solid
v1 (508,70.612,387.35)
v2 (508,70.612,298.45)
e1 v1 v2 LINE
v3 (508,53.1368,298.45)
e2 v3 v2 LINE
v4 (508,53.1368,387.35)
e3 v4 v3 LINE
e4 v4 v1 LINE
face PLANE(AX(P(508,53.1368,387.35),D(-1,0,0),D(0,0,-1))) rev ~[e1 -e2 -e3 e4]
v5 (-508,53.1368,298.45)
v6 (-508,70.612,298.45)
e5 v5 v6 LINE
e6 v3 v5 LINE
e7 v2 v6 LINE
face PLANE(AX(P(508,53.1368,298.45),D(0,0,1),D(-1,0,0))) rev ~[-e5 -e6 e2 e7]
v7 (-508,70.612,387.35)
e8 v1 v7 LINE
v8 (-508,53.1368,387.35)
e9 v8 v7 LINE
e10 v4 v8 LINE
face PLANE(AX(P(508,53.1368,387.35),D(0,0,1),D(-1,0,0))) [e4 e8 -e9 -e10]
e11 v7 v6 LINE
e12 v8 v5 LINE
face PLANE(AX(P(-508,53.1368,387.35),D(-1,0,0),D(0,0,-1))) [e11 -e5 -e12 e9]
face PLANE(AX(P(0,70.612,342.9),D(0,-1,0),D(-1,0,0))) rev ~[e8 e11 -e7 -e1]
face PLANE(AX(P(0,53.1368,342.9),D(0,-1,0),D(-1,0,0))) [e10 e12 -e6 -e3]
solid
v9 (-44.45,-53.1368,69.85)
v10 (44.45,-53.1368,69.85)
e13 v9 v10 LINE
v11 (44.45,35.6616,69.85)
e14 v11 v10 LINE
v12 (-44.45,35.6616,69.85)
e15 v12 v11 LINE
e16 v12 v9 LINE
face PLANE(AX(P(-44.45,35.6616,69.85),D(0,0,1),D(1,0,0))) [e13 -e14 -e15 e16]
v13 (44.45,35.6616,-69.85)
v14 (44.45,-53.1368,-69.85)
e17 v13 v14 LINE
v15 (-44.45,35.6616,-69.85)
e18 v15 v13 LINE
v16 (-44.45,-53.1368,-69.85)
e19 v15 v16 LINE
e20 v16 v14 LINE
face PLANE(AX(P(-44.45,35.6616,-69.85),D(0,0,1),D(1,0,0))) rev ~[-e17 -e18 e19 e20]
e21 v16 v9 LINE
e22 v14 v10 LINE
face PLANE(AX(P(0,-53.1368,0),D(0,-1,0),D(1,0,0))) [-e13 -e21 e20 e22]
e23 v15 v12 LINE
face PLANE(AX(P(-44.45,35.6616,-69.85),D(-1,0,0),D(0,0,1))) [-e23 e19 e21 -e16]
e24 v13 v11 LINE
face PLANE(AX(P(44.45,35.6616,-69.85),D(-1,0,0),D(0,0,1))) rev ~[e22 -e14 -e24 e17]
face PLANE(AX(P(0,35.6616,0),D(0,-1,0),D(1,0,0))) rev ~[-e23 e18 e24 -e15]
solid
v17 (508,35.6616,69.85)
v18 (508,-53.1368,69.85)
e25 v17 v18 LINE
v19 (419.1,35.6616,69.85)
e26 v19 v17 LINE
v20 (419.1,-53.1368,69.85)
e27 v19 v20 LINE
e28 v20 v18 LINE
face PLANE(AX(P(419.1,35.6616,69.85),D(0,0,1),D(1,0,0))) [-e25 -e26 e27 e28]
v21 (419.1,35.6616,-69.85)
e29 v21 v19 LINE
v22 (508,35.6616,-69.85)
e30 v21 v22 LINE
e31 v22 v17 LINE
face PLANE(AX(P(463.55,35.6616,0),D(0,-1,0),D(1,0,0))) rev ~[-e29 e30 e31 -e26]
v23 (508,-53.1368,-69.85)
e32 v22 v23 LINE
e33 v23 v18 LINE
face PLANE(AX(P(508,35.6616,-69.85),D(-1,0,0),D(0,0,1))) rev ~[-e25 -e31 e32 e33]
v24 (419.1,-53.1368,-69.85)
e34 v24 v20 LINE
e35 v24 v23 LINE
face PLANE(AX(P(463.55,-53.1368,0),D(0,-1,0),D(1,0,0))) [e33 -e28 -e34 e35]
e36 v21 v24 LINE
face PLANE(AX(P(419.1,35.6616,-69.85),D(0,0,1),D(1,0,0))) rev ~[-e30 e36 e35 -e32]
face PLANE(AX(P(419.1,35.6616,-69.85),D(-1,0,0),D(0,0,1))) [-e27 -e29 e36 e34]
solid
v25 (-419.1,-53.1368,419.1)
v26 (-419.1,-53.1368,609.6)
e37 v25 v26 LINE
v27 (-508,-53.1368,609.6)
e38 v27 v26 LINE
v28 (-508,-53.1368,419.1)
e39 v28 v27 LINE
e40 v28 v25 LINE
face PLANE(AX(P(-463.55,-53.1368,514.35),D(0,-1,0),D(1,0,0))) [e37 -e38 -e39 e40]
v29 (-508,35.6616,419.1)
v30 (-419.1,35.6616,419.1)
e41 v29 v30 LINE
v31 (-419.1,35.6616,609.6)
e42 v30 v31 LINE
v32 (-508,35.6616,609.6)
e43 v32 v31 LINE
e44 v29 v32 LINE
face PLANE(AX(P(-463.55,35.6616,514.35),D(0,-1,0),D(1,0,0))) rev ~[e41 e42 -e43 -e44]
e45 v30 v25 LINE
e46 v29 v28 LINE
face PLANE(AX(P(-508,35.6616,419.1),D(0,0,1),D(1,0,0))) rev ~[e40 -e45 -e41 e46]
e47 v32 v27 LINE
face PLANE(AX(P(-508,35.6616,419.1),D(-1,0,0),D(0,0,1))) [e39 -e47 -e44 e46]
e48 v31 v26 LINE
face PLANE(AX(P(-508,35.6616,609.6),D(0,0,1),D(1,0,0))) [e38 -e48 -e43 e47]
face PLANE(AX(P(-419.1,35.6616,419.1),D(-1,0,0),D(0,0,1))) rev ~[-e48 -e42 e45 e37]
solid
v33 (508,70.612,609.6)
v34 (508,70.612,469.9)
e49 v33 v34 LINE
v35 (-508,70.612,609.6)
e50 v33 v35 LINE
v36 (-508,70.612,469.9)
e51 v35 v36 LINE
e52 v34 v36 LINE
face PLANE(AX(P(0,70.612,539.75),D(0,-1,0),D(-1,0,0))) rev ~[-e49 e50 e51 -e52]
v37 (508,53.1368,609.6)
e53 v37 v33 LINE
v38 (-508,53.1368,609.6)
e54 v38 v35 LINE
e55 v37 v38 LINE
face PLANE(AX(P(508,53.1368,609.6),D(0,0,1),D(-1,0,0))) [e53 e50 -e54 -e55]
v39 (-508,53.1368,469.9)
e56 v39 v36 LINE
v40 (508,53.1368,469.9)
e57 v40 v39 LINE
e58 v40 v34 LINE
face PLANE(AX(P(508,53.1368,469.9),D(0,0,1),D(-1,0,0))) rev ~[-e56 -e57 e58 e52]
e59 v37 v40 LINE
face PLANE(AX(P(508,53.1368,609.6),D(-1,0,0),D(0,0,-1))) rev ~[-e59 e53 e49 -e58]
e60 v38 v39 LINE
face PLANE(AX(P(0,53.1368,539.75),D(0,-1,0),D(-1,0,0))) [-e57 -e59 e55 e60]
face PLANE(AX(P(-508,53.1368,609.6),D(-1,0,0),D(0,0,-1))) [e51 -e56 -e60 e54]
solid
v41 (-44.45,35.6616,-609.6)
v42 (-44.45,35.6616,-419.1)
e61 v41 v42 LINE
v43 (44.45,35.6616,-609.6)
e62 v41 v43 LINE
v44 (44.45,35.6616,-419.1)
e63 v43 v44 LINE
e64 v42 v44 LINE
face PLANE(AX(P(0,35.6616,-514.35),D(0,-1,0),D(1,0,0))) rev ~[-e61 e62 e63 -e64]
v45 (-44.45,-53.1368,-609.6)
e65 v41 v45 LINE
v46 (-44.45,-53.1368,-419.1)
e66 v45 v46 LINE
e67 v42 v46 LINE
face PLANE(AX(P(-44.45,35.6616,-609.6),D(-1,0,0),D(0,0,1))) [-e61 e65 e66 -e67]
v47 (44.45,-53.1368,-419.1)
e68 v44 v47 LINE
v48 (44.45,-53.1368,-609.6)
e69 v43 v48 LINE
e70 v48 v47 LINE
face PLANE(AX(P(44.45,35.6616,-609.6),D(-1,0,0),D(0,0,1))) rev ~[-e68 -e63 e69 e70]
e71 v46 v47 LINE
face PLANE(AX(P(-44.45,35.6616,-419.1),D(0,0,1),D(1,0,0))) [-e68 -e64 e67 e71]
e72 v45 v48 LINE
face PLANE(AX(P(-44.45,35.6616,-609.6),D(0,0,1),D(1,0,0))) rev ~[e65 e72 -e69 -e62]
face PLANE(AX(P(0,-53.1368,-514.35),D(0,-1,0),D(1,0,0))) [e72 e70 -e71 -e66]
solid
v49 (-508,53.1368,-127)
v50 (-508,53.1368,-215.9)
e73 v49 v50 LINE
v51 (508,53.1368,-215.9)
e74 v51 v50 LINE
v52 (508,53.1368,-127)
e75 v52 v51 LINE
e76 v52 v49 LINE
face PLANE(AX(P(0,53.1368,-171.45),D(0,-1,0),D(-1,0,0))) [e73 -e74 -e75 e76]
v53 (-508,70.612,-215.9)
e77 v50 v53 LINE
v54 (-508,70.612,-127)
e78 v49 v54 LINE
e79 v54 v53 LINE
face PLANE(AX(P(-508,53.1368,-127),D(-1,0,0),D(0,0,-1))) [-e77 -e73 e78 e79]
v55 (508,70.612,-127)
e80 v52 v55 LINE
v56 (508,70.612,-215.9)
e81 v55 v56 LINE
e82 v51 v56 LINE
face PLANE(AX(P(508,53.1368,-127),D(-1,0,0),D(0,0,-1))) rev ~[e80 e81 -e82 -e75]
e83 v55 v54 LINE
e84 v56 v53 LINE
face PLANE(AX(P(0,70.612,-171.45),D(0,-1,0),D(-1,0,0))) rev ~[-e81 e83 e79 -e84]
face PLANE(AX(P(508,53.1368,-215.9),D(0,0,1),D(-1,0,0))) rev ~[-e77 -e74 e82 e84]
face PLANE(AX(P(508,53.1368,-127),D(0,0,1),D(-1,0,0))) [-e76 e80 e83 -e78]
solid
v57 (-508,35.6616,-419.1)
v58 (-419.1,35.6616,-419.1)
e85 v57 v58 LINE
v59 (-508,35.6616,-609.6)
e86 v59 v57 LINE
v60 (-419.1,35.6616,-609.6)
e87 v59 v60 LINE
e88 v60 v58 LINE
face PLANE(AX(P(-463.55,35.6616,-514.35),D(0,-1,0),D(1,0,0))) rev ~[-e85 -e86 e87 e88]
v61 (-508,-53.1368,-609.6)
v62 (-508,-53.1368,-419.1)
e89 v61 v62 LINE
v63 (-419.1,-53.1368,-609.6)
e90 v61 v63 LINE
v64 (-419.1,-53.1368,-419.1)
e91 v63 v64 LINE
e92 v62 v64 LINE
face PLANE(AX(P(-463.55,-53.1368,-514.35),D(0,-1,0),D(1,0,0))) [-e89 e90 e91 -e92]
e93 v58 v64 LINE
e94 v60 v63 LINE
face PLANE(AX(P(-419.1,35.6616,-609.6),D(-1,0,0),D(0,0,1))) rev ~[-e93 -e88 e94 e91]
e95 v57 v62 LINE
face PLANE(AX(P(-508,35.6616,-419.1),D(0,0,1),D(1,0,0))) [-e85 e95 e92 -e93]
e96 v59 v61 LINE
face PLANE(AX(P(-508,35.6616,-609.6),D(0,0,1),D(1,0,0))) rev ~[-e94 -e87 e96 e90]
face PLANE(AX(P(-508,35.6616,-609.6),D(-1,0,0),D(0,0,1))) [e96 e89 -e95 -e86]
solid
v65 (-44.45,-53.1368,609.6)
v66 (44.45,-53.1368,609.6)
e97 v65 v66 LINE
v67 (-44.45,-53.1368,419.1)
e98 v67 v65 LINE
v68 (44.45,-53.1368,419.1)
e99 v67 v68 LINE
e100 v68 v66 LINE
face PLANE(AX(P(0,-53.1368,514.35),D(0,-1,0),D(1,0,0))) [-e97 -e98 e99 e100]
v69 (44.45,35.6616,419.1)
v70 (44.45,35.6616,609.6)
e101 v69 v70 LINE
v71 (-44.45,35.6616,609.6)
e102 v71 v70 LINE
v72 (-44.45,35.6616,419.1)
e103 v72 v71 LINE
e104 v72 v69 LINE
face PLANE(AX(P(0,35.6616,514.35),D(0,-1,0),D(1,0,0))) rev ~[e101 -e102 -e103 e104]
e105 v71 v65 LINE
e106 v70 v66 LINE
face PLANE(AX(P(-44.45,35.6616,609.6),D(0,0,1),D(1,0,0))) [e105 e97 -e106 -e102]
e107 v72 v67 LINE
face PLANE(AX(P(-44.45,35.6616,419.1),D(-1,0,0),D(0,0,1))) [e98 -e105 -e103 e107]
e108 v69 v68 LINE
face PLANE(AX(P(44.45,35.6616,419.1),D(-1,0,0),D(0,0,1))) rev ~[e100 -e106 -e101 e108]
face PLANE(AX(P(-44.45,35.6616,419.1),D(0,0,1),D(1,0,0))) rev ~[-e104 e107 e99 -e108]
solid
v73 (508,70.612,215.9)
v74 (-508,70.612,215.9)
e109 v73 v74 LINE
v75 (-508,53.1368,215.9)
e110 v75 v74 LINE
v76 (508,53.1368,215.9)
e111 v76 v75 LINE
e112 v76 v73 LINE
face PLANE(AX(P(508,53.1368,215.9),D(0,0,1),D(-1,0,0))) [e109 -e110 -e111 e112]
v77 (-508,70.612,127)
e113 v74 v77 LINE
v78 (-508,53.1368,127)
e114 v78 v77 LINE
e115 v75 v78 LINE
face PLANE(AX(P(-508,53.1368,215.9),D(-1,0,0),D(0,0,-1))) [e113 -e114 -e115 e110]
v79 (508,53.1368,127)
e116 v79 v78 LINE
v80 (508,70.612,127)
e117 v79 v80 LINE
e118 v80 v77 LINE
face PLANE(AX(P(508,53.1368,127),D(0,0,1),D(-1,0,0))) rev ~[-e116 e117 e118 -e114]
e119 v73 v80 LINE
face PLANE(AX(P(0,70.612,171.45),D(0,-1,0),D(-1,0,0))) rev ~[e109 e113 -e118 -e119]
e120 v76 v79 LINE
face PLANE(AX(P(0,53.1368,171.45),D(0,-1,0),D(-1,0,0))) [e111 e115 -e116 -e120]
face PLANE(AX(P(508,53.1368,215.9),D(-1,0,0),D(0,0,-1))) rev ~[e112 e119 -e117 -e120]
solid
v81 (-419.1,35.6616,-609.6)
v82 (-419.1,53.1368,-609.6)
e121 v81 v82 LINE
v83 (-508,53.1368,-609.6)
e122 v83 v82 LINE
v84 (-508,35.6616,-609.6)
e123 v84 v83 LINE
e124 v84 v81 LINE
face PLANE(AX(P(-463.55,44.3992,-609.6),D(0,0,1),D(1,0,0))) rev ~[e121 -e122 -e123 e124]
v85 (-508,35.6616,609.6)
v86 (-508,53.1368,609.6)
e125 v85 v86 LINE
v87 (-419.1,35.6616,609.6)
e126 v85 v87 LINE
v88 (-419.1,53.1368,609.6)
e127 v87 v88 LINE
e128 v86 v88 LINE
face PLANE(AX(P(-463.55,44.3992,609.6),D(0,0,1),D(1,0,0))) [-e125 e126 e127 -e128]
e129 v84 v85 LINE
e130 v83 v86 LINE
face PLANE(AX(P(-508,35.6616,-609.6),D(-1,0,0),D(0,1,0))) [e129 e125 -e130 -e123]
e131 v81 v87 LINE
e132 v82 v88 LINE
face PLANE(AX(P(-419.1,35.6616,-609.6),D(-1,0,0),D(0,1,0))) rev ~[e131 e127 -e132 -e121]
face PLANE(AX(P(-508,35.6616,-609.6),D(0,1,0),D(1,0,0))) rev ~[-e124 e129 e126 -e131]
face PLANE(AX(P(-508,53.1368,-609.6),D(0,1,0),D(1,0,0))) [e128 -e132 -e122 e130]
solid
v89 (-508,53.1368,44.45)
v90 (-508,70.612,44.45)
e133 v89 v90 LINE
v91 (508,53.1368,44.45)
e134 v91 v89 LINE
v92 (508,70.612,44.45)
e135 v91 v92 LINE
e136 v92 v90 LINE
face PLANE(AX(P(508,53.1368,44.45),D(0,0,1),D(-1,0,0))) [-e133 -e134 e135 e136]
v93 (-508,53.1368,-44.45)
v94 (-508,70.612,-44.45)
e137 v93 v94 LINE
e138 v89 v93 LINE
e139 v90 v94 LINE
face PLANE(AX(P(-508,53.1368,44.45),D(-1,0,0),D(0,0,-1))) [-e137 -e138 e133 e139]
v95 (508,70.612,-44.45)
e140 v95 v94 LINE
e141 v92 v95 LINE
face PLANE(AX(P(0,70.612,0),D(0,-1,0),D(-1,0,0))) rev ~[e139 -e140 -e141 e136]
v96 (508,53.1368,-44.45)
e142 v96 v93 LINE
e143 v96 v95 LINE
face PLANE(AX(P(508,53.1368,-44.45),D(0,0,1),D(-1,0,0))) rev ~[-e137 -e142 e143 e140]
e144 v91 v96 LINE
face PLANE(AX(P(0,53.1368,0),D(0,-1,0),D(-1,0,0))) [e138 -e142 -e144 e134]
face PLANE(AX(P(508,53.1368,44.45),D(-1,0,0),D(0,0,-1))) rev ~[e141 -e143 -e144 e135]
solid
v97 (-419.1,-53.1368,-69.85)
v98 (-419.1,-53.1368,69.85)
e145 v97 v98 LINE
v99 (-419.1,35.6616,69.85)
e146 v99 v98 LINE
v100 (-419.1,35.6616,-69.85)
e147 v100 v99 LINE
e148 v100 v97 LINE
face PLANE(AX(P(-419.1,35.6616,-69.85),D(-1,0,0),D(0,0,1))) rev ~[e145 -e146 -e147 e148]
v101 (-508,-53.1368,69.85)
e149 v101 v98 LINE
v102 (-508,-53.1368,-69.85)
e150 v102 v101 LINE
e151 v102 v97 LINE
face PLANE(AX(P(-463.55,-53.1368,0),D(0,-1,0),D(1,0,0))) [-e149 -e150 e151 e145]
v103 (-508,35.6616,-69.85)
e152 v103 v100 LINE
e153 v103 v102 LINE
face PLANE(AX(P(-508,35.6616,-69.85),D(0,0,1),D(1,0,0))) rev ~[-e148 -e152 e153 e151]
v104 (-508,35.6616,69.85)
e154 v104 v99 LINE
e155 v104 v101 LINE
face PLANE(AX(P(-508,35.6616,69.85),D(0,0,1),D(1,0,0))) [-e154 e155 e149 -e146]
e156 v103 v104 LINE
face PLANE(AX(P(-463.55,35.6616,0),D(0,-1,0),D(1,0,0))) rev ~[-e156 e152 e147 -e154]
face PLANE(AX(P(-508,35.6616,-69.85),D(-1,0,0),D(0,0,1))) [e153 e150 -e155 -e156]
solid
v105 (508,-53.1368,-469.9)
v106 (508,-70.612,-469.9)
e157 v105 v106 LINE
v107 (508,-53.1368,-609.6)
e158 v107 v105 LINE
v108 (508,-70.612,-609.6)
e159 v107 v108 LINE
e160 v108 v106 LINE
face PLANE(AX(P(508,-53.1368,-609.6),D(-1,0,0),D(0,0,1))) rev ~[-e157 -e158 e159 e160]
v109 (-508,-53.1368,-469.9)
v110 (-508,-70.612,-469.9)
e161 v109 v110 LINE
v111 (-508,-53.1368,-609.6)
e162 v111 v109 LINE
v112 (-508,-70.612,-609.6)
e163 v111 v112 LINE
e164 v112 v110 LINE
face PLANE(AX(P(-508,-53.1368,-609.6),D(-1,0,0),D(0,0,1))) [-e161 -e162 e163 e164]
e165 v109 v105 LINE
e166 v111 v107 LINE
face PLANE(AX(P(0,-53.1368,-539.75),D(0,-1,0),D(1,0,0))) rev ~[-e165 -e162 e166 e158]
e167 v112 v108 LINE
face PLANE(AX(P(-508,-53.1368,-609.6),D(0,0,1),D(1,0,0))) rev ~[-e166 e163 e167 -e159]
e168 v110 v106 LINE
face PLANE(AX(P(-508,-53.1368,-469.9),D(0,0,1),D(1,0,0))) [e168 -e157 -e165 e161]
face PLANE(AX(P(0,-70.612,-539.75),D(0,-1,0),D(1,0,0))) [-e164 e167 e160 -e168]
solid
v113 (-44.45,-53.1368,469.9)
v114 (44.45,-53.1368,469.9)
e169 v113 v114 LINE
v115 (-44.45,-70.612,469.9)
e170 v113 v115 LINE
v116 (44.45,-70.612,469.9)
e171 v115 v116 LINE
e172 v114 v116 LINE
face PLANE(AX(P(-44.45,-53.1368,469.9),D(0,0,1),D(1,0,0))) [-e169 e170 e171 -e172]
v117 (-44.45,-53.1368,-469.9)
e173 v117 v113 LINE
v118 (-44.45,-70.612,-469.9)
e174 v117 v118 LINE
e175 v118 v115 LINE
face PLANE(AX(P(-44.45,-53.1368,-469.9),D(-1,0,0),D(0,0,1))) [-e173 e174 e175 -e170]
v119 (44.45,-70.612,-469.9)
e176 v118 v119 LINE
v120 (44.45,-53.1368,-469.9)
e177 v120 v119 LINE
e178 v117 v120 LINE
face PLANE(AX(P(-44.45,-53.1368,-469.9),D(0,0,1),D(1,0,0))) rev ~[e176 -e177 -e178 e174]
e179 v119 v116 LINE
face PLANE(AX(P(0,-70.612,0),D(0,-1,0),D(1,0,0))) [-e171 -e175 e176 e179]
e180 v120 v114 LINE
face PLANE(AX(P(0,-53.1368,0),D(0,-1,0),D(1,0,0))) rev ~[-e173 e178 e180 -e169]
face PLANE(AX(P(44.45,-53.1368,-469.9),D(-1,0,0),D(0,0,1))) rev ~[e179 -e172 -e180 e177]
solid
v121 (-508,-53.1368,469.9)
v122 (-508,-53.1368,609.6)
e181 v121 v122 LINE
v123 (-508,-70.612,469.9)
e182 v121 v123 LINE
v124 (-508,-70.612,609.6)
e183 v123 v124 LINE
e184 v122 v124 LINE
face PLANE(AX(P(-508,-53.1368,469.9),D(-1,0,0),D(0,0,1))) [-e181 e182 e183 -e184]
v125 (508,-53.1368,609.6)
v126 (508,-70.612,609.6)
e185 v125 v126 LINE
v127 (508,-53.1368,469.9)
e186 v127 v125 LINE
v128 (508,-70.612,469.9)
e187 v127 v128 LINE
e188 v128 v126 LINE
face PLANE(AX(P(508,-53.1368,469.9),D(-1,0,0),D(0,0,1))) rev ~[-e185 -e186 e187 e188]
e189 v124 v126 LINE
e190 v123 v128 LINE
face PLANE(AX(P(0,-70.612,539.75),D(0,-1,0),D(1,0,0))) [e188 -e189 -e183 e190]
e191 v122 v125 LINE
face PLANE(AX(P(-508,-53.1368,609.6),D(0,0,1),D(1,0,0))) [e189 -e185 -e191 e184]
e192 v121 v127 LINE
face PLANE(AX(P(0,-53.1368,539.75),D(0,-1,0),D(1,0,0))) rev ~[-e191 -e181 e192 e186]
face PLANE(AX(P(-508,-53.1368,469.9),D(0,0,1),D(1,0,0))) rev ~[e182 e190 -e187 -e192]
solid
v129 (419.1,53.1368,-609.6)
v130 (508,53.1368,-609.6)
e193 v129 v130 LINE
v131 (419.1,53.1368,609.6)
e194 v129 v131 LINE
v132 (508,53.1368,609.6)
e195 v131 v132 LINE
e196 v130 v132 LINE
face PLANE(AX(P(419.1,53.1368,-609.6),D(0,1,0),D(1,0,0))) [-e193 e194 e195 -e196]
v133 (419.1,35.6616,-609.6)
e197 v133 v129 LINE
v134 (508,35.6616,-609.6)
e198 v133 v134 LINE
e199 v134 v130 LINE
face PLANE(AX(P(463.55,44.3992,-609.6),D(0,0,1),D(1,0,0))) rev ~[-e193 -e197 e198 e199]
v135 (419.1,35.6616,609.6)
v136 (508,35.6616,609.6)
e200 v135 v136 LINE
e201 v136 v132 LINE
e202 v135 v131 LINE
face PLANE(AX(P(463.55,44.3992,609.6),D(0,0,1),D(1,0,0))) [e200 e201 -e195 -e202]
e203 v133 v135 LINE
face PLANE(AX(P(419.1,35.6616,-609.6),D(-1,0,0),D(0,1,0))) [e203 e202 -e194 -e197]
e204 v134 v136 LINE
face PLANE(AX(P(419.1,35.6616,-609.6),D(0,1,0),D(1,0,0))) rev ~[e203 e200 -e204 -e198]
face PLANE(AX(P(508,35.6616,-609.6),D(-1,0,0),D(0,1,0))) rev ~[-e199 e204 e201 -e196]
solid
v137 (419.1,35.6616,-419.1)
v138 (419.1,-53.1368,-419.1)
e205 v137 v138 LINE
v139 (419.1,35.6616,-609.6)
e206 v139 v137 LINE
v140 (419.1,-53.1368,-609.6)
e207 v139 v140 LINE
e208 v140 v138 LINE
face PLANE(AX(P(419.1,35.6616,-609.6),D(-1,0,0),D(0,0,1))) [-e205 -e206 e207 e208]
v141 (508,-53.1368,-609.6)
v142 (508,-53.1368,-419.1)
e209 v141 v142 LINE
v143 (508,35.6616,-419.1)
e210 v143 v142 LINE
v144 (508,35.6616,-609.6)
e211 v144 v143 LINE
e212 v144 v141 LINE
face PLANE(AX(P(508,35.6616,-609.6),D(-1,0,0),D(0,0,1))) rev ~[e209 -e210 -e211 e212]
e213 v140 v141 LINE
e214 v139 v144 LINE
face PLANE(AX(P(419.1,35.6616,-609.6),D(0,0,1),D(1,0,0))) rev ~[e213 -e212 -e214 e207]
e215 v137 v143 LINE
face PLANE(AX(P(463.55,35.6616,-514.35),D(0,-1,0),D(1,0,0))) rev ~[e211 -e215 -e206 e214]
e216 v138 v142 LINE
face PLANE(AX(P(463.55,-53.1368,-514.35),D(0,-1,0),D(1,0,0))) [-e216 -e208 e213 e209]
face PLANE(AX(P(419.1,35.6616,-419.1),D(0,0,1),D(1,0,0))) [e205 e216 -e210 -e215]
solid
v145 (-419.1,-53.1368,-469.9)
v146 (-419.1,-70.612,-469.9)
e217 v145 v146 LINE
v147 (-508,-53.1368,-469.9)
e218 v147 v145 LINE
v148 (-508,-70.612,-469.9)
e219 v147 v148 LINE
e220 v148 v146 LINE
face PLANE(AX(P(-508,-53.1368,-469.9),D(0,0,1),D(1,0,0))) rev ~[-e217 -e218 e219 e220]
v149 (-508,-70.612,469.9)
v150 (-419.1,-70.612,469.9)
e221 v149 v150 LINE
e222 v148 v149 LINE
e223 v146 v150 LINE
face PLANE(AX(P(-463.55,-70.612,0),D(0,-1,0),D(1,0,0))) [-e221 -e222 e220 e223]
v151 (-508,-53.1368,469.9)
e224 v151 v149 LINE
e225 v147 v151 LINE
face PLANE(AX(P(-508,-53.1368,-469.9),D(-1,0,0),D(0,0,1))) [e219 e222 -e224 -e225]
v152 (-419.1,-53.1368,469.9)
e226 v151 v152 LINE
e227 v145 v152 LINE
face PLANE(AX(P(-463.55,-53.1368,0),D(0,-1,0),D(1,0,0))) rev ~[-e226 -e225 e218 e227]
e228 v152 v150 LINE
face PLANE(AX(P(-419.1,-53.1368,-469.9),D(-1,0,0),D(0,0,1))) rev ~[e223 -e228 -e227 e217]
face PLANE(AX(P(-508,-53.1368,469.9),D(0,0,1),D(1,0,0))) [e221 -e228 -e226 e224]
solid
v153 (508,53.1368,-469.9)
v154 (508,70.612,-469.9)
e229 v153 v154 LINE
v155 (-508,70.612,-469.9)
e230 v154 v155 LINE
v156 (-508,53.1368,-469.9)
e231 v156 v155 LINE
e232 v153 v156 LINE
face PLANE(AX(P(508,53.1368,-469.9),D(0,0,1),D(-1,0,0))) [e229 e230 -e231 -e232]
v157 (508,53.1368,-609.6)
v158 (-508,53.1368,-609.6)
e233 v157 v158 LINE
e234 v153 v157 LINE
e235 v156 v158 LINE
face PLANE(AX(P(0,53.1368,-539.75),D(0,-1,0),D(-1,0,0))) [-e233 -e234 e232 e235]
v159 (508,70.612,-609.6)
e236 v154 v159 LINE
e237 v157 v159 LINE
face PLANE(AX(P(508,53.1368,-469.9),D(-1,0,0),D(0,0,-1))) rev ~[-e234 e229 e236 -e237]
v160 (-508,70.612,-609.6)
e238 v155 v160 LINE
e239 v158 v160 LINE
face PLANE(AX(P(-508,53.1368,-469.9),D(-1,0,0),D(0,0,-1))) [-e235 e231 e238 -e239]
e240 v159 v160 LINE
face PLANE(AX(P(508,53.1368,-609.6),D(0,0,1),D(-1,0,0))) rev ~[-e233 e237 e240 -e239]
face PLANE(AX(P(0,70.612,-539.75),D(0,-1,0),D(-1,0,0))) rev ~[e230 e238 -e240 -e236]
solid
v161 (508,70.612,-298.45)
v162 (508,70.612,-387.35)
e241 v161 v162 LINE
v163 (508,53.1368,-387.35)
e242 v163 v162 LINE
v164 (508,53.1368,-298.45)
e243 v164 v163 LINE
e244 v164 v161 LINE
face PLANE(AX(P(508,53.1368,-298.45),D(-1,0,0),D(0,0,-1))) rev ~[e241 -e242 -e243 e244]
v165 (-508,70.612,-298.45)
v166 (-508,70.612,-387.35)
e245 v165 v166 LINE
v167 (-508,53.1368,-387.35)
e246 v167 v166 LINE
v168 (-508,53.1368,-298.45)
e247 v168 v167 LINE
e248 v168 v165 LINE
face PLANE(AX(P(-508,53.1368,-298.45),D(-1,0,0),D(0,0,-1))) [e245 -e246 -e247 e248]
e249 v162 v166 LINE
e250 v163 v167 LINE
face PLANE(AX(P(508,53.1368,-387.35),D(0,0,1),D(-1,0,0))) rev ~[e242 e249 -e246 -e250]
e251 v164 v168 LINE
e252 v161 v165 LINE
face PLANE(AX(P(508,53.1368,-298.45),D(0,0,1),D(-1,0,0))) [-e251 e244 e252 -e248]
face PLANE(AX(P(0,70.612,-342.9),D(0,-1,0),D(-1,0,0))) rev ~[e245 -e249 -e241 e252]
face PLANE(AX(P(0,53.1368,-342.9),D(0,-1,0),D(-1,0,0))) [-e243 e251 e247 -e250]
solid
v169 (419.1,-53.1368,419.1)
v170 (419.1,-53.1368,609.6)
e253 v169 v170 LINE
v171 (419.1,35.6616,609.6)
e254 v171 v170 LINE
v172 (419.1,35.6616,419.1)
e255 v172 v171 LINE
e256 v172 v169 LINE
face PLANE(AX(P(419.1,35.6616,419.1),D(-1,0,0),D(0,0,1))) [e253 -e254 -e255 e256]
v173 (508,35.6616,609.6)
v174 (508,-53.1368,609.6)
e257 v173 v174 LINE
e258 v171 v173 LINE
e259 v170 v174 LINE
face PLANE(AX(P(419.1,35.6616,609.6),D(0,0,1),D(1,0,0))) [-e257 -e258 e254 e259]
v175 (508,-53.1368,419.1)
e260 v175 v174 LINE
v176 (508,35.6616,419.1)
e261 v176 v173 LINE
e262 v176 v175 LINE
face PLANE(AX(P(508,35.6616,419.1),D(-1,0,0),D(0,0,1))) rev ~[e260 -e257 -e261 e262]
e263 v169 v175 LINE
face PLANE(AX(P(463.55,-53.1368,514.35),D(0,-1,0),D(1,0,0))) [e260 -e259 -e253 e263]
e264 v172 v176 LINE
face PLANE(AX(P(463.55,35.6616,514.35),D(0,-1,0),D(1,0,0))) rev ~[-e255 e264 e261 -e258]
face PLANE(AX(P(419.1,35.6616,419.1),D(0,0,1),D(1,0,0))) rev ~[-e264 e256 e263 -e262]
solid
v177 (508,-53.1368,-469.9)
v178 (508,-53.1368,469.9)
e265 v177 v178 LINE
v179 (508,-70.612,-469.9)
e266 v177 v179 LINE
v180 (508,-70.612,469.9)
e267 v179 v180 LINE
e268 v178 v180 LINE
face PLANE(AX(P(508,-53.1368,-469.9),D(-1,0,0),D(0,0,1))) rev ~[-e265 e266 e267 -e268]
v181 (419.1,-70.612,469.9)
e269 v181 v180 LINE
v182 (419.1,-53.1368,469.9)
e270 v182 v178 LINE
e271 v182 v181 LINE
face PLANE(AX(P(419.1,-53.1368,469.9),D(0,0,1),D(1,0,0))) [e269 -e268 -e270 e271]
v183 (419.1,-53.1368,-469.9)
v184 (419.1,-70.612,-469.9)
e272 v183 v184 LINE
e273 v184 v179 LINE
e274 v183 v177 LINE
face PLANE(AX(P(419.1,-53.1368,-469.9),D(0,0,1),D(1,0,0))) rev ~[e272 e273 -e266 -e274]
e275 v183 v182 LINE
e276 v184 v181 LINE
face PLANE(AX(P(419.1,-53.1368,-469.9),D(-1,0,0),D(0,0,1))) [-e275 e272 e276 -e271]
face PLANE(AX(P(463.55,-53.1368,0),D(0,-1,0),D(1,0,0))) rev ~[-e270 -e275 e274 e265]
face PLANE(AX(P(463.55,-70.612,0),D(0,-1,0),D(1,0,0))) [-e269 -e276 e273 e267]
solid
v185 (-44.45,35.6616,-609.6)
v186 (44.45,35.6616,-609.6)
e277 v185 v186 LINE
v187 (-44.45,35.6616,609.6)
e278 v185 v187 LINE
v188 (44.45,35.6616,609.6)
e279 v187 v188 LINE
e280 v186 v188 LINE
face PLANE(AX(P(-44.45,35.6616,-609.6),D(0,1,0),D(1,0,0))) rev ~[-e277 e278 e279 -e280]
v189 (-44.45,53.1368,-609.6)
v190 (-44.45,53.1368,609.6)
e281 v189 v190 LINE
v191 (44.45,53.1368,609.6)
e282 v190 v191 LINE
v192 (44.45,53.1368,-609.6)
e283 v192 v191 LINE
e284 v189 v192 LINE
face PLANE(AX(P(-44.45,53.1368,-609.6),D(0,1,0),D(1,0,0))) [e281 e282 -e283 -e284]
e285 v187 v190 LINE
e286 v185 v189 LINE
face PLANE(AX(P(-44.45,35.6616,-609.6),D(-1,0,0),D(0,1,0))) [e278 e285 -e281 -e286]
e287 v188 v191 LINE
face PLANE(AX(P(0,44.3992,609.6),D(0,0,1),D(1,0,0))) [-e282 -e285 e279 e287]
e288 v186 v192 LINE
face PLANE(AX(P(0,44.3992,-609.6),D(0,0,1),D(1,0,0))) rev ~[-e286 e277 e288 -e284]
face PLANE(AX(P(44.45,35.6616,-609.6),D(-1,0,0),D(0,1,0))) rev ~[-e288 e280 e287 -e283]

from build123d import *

# Parameters (mm, degrees)
BOSS_EXTRUDE1_DEPTH        = 609.6
BOSS_EXTRUDE1_DEPTH_BACK   = 609.6
SKETCH3_W                  = 88.9
SKETCH3_H                  = 17.4752
BOSS_EXTRUDE1_2_DEPTH      = 609.6
BOSS_EXTRUDE1_2_DEPTH_BACK = 609.6
BOSS_EXTRUDE1_3_DEPTH      = 609.6
BOSS_EXTRUDE1_3_DEPTH_BACK = 609.6
SKETCH4_W                  = 1016
SKETCH4_H                  = 139.7
BOSS_EXTRUDE2_DEPTH        = 17.4752
SKETCH4_H_2                = 88.9
BOSS_EXTRUDE2_2_DEPTH      = 17.4752
BOSS_EXTRUDE2_3_DEPTH      = 17.4752
BOSS_EXTRUDE2_4_DEPTH      = 17.4752
BOSS_EXTRUDE2_5_DEPTH      = 17.4752
BOSS_EXTRUDE2_6_DEPTH      = 17.4752
BOSS_EXTRUDE2_7_DEPTH      = 17.4752
SKETCH9_W                  = 88.9
SKETCH9_H                  = 190.5
BOSS_EXTRUDE4_DEPTH        = 88.7984
SKETCH9_H_2                = 139.7
BOSS_EXTRUDE4_2_DEPTH      = 88.7984
BOSS_EXTRUDE4_3_DEPTH      = 88.7984
BOSS_EXTRUDE4_4_DEPTH      = 88.7984
BOSS_EXTRUDE4_5_DEPTH      = 88.7984
BOSS_EXTRUDE4_6_DEPTH      = 88.7984
BOSS_EXTRUDE4_7_DEPTH      = 88.7984
BOSS_EXTRUDE4_8_DEPTH      = 88.7984
BOSS_EXTRUDE4_9_DEPTH      = 88.7984
SKETCH5_W                  = 1016
SKETCH5_H                  = 139.7
BOSS_EXTRUDE3_DEPTH        = 17.4752
BOSS_EXTRUDE3_2_DEPTH      = 17.4752
SKETCH11_W                 = 88.9
SKETCH11_H                 = 939.8
BOSS_EXTRUDE5_DEPTH        = 17.4752
BOSS_EXTRUDE5_2_DEPTH      = 17.4752
BOSS_EXTRUDE5_3_DEPTH      = 17.4752


with BuildPart() as part:
    # Sketch3 → Boss-Extrude1 (new, two sides: drawn at the far end of the back side and taken through both)
    with BuildSketch(Plane.XY.offset(-BOSS_EXTRUDE1_DEPTH_BACK)):
        with Locations((-463.55, 44.3992)):
            Rectangle(SKETCH3_W, SKETCH3_H)
    extrude(amount=BOSS_EXTRUDE1_DEPTH + BOSS_EXTRUDE1_DEPTH_BACK)


with BuildPart() as body_2:
    # Sketch3 → Boss-Extrude1 2 (new, two sides: drawn at the far end of the back side and taken through both)
    with BuildSketch(Plane.XY.offset(-BOSS_EXTRUDE1_2_DEPTH_BACK)):
        with Locations((0, 44.3992)):
            Rectangle(SKETCH3_W, SKETCH3_H)
    extrude(amount=BOSS_EXTRUDE1_2_DEPTH + BOSS_EXTRUDE1_2_DEPTH_BACK)


with BuildPart() as body_3:
    # Sketch3 → Boss-Extrude1 3 (new, two sides: drawn at the far end of the back side and taken through both)
    with BuildSketch(Plane.XY.offset(-BOSS_EXTRUDE1_3_DEPTH_BACK)):
        with Locations((463.55, 44.3992)):
            Rectangle(SKETCH3_W, SKETCH3_H)
    extrude(amount=BOSS_EXTRUDE1_3_DEPTH + BOSS_EXTRUDE1_3_DEPTH_BACK)


with BuildPart() as body_4:
    # Sketch4 → Boss-Extrude2 (new body)
    with BuildSketch(Plane(origin=(0, 53.1368, 0), x_dir=(-1, 0, 0), z_dir=(0, -1, 0))):
        with Locations((0, 539.75)):
            Rectangle(SKETCH4_W, SKETCH4_H)
    extrude(amount=-BOSS_EXTRUDE2_DEPTH)


with BuildPart() as body_5:
    # Sketch4 → Boss-Extrude2 2 (new body)
    with BuildSketch(Plane(origin=(0, 53.1368, 0), x_dir=(-1, 0, 0), z_dir=(0, -1, 0))):
        with Locations((0, 171.45)):
            Rectangle(SKETCH4_W, SKETCH4_H_2)
    extrude(amount=-BOSS_EXTRUDE2_2_DEPTH)


with BuildPart() as body_6:
    # Sketch4 → Boss-Extrude2 3 (new body)
    with BuildSketch(Plane(origin=(0, 53.1368, 0), x_dir=(-1, 0, 0), z_dir=(0, -1, 0))):
        with Locations((0, 342.9)):
            Rectangle(SKETCH4_W, SKETCH4_H_2)
    extrude(amount=-BOSS_EXTRUDE2_3_DEPTH)


with BuildPart() as body_7:
    # Sketch4 → Boss-Extrude2 4 (new body)
    with BuildSketch(Plane(origin=(0, 53.1368, 0), x_dir=(-1, 0, 0), z_dir=(0, -1, 0))):
        Rectangle(SKETCH4_W, SKETCH4_H_2)
    extrude(amount=-BOSS_EXTRUDE2_4_DEPTH)


with BuildPart() as body_8:
    # Sketch4 → Boss-Extrude2 5 (new body)
    with BuildSketch(Plane(origin=(0, 53.1368, 0), x_dir=(-1, 0, 0), z_dir=(0, -1, 0))):
        with Locations((0, -171.45)):
            Rectangle(SKETCH4_W, SKETCH4_H_2)
    extrude(amount=-BOSS_EXTRUDE2_5_DEPTH)


with BuildPart() as body_9:
    # Sketch4 → Boss-Extrude2 6 (new body)
    with BuildSketch(Plane(origin=(0, 53.1368, 0), x_dir=(-1, 0, 0), z_dir=(0, -1, 0))):
        with Locations((0, -342.9)):
            Rectangle(SKETCH4_W, SKETCH4_H_2)
    extrude(amount=-BOSS_EXTRUDE2_6_DEPTH)


with BuildPart() as body_10:
    # Sketch4 → Boss-Extrude2 7 (new body)
    with BuildSketch(Plane(origin=(0, 53.1368, 0), x_dir=(-1, 0, 0), z_dir=(0, -1, 0))):
        with Locations((0, -539.75)):
            Rectangle(SKETCH4_W, SKETCH4_H)
    extrude(amount=-BOSS_EXTRUDE2_7_DEPTH)


with BuildPart() as body_11:
    # Sketch9 → Boss-Extrude4 (new body)
    with BuildSketch(Plane.XZ.offset(-35.6616)):
        with Locations((463.55, 514.35)):
            Rectangle(SKETCH9_W, SKETCH9_H)
    extrude(amount=BOSS_EXTRUDE4_DEPTH)


with BuildPart() as body_12:
    # Sketch9 → Boss-Extrude4 2 (new body)
    with BuildSketch(Plane.XZ.offset(-35.6616)):
        with Locations((463.55, 0)):
            Rectangle(SKETCH9_W, SKETCH9_H_2)
    extrude(amount=BOSS_EXTRUDE4_2_DEPTH)


with BuildPart() as body_13:
    # Sketch9 → Boss-Extrude4 3 (new body)
    with BuildSketch(Plane.XZ.offset(-35.6616)):
        with Locations((463.55, -514.35)):
            Rectangle(SKETCH9_W, SKETCH9_H)
    extrude(amount=BOSS_EXTRUDE4_3_DEPTH)


with BuildPart() as body_14:
    # Sketch9 → Boss-Extrude4 4 (new body)
    with BuildSketch(Plane.XZ.offset(-35.6616)):
        with Locations((0, 514.35)):
            Rectangle(SKETCH9_W, SKETCH9_H)
    extrude(amount=BOSS_EXTRUDE4_4_DEPTH)


with BuildPart() as body_15:
    # Sketch9 → Boss-Extrude4 5 (new body)
    with BuildSketch(Plane.XZ.offset(-35.6616)):
        Rectangle(SKETCH9_W, SKETCH9_H_2)
    extrude(amount=BOSS_EXTRUDE4_5_DEPTH)


with BuildPart() as body_16:
    # Sketch9 → Boss-Extrude4 6 (new body)
    with BuildSketch(Plane.XZ.offset(-35.6616)):
        with Locations((0, -514.35)):
            Rectangle(SKETCH9_W, SKETCH9_H)
    extrude(amount=BOSS_EXTRUDE4_6_DEPTH)


with BuildPart() as body_17:
    # Sketch9 → Boss-Extrude4 7 (new body)
    with BuildSketch(Plane.XZ.offset(-35.6616)):
        with Locations((-463.55, 514.35)):
            Rectangle(SKETCH9_W, SKETCH9_H)
    extrude(amount=BOSS_EXTRUDE4_7_DEPTH)


with BuildPart() as body_18:
    # Sketch9 → Boss-Extrude4 8 (new body)
    with BuildSketch(Plane.XZ.offset(-35.6616)):
        with Locations((-463.55, 0)):
            Rectangle(SKETCH9_W, SKETCH9_H_2)
    extrude(amount=BOSS_EXTRUDE4_8_DEPTH)


with BuildPart() as body_19:
    # Sketch9 → Boss-Extrude4 9 (new body)
    with BuildSketch(Plane.XZ.offset(-35.6616)):
        with Locations((-463.55, -514.35)):
            Rectangle(SKETCH9_W, SKETCH9_H)
    extrude(amount=BOSS_EXTRUDE4_9_DEPTH)


with BuildPart() as body_20:
    # Sketch5 → Boss-Extrude3 (new body)
    with BuildSketch(Plane.XZ.offset(53.1368)):
        with Locations((0, 539.75)):
            Rectangle(SKETCH5_W, SKETCH5_H)
    extrude(amount=BOSS_EXTRUDE3_DEPTH)


with BuildPart() as body_21:
    # Sketch5 → Boss-Extrude3 2 (new body)
    with BuildSketch(Plane.XZ.offset(53.1368)):
        with Locations((0, -539.75)):
            Rectangle(SKETCH5_W, SKETCH5_H)
    extrude(amount=BOSS_EXTRUDE3_2_DEPTH)


with BuildPart() as body_22:
    # Sketch11 → Boss-Extrude5 (new body)
    with BuildSketch(Plane.XZ.offset(53.1368)):
        with Locations((-463.55, 0)):
            Rectangle(SKETCH11_W, SKETCH11_H)
    extrude(amount=BOSS_EXTRUDE5_DEPTH)


with BuildPart() as body_23:
    # Sketch11 → Boss-Extrude5 2 (new body)
    with BuildSketch(Plane.XZ.offset(53.1368)):
        Rectangle(SKETCH11_W, SKETCH11_H)
    extrude(amount=BOSS_EXTRUDE5_2_DEPTH)


with BuildPart() as body_24:
    # Sketch11 → Boss-Extrude5 3 (new body)
    with BuildSketch(Plane.XZ.offset(53.1368)):
        with Locations((463.55, 0)):
            Rectangle(SKETCH11_W, SKETCH11_H)
    extrude(amount=BOSS_EXTRUDE5_3_DEPTH)


solid = Compound([part.part, body_2.part, body_3.part, body_4.part, body_5.part, body_6.part, body_7.part, body_8.part, body_9.part, body_10.part, body_11.part, body_12.part, body_13.part, body_14.part, body_15.part, body_16.part, body_17.part, body_18.part, body_19.part, body_20.part, body_21.part, body_22.part, body_23.part, body_24.part])
